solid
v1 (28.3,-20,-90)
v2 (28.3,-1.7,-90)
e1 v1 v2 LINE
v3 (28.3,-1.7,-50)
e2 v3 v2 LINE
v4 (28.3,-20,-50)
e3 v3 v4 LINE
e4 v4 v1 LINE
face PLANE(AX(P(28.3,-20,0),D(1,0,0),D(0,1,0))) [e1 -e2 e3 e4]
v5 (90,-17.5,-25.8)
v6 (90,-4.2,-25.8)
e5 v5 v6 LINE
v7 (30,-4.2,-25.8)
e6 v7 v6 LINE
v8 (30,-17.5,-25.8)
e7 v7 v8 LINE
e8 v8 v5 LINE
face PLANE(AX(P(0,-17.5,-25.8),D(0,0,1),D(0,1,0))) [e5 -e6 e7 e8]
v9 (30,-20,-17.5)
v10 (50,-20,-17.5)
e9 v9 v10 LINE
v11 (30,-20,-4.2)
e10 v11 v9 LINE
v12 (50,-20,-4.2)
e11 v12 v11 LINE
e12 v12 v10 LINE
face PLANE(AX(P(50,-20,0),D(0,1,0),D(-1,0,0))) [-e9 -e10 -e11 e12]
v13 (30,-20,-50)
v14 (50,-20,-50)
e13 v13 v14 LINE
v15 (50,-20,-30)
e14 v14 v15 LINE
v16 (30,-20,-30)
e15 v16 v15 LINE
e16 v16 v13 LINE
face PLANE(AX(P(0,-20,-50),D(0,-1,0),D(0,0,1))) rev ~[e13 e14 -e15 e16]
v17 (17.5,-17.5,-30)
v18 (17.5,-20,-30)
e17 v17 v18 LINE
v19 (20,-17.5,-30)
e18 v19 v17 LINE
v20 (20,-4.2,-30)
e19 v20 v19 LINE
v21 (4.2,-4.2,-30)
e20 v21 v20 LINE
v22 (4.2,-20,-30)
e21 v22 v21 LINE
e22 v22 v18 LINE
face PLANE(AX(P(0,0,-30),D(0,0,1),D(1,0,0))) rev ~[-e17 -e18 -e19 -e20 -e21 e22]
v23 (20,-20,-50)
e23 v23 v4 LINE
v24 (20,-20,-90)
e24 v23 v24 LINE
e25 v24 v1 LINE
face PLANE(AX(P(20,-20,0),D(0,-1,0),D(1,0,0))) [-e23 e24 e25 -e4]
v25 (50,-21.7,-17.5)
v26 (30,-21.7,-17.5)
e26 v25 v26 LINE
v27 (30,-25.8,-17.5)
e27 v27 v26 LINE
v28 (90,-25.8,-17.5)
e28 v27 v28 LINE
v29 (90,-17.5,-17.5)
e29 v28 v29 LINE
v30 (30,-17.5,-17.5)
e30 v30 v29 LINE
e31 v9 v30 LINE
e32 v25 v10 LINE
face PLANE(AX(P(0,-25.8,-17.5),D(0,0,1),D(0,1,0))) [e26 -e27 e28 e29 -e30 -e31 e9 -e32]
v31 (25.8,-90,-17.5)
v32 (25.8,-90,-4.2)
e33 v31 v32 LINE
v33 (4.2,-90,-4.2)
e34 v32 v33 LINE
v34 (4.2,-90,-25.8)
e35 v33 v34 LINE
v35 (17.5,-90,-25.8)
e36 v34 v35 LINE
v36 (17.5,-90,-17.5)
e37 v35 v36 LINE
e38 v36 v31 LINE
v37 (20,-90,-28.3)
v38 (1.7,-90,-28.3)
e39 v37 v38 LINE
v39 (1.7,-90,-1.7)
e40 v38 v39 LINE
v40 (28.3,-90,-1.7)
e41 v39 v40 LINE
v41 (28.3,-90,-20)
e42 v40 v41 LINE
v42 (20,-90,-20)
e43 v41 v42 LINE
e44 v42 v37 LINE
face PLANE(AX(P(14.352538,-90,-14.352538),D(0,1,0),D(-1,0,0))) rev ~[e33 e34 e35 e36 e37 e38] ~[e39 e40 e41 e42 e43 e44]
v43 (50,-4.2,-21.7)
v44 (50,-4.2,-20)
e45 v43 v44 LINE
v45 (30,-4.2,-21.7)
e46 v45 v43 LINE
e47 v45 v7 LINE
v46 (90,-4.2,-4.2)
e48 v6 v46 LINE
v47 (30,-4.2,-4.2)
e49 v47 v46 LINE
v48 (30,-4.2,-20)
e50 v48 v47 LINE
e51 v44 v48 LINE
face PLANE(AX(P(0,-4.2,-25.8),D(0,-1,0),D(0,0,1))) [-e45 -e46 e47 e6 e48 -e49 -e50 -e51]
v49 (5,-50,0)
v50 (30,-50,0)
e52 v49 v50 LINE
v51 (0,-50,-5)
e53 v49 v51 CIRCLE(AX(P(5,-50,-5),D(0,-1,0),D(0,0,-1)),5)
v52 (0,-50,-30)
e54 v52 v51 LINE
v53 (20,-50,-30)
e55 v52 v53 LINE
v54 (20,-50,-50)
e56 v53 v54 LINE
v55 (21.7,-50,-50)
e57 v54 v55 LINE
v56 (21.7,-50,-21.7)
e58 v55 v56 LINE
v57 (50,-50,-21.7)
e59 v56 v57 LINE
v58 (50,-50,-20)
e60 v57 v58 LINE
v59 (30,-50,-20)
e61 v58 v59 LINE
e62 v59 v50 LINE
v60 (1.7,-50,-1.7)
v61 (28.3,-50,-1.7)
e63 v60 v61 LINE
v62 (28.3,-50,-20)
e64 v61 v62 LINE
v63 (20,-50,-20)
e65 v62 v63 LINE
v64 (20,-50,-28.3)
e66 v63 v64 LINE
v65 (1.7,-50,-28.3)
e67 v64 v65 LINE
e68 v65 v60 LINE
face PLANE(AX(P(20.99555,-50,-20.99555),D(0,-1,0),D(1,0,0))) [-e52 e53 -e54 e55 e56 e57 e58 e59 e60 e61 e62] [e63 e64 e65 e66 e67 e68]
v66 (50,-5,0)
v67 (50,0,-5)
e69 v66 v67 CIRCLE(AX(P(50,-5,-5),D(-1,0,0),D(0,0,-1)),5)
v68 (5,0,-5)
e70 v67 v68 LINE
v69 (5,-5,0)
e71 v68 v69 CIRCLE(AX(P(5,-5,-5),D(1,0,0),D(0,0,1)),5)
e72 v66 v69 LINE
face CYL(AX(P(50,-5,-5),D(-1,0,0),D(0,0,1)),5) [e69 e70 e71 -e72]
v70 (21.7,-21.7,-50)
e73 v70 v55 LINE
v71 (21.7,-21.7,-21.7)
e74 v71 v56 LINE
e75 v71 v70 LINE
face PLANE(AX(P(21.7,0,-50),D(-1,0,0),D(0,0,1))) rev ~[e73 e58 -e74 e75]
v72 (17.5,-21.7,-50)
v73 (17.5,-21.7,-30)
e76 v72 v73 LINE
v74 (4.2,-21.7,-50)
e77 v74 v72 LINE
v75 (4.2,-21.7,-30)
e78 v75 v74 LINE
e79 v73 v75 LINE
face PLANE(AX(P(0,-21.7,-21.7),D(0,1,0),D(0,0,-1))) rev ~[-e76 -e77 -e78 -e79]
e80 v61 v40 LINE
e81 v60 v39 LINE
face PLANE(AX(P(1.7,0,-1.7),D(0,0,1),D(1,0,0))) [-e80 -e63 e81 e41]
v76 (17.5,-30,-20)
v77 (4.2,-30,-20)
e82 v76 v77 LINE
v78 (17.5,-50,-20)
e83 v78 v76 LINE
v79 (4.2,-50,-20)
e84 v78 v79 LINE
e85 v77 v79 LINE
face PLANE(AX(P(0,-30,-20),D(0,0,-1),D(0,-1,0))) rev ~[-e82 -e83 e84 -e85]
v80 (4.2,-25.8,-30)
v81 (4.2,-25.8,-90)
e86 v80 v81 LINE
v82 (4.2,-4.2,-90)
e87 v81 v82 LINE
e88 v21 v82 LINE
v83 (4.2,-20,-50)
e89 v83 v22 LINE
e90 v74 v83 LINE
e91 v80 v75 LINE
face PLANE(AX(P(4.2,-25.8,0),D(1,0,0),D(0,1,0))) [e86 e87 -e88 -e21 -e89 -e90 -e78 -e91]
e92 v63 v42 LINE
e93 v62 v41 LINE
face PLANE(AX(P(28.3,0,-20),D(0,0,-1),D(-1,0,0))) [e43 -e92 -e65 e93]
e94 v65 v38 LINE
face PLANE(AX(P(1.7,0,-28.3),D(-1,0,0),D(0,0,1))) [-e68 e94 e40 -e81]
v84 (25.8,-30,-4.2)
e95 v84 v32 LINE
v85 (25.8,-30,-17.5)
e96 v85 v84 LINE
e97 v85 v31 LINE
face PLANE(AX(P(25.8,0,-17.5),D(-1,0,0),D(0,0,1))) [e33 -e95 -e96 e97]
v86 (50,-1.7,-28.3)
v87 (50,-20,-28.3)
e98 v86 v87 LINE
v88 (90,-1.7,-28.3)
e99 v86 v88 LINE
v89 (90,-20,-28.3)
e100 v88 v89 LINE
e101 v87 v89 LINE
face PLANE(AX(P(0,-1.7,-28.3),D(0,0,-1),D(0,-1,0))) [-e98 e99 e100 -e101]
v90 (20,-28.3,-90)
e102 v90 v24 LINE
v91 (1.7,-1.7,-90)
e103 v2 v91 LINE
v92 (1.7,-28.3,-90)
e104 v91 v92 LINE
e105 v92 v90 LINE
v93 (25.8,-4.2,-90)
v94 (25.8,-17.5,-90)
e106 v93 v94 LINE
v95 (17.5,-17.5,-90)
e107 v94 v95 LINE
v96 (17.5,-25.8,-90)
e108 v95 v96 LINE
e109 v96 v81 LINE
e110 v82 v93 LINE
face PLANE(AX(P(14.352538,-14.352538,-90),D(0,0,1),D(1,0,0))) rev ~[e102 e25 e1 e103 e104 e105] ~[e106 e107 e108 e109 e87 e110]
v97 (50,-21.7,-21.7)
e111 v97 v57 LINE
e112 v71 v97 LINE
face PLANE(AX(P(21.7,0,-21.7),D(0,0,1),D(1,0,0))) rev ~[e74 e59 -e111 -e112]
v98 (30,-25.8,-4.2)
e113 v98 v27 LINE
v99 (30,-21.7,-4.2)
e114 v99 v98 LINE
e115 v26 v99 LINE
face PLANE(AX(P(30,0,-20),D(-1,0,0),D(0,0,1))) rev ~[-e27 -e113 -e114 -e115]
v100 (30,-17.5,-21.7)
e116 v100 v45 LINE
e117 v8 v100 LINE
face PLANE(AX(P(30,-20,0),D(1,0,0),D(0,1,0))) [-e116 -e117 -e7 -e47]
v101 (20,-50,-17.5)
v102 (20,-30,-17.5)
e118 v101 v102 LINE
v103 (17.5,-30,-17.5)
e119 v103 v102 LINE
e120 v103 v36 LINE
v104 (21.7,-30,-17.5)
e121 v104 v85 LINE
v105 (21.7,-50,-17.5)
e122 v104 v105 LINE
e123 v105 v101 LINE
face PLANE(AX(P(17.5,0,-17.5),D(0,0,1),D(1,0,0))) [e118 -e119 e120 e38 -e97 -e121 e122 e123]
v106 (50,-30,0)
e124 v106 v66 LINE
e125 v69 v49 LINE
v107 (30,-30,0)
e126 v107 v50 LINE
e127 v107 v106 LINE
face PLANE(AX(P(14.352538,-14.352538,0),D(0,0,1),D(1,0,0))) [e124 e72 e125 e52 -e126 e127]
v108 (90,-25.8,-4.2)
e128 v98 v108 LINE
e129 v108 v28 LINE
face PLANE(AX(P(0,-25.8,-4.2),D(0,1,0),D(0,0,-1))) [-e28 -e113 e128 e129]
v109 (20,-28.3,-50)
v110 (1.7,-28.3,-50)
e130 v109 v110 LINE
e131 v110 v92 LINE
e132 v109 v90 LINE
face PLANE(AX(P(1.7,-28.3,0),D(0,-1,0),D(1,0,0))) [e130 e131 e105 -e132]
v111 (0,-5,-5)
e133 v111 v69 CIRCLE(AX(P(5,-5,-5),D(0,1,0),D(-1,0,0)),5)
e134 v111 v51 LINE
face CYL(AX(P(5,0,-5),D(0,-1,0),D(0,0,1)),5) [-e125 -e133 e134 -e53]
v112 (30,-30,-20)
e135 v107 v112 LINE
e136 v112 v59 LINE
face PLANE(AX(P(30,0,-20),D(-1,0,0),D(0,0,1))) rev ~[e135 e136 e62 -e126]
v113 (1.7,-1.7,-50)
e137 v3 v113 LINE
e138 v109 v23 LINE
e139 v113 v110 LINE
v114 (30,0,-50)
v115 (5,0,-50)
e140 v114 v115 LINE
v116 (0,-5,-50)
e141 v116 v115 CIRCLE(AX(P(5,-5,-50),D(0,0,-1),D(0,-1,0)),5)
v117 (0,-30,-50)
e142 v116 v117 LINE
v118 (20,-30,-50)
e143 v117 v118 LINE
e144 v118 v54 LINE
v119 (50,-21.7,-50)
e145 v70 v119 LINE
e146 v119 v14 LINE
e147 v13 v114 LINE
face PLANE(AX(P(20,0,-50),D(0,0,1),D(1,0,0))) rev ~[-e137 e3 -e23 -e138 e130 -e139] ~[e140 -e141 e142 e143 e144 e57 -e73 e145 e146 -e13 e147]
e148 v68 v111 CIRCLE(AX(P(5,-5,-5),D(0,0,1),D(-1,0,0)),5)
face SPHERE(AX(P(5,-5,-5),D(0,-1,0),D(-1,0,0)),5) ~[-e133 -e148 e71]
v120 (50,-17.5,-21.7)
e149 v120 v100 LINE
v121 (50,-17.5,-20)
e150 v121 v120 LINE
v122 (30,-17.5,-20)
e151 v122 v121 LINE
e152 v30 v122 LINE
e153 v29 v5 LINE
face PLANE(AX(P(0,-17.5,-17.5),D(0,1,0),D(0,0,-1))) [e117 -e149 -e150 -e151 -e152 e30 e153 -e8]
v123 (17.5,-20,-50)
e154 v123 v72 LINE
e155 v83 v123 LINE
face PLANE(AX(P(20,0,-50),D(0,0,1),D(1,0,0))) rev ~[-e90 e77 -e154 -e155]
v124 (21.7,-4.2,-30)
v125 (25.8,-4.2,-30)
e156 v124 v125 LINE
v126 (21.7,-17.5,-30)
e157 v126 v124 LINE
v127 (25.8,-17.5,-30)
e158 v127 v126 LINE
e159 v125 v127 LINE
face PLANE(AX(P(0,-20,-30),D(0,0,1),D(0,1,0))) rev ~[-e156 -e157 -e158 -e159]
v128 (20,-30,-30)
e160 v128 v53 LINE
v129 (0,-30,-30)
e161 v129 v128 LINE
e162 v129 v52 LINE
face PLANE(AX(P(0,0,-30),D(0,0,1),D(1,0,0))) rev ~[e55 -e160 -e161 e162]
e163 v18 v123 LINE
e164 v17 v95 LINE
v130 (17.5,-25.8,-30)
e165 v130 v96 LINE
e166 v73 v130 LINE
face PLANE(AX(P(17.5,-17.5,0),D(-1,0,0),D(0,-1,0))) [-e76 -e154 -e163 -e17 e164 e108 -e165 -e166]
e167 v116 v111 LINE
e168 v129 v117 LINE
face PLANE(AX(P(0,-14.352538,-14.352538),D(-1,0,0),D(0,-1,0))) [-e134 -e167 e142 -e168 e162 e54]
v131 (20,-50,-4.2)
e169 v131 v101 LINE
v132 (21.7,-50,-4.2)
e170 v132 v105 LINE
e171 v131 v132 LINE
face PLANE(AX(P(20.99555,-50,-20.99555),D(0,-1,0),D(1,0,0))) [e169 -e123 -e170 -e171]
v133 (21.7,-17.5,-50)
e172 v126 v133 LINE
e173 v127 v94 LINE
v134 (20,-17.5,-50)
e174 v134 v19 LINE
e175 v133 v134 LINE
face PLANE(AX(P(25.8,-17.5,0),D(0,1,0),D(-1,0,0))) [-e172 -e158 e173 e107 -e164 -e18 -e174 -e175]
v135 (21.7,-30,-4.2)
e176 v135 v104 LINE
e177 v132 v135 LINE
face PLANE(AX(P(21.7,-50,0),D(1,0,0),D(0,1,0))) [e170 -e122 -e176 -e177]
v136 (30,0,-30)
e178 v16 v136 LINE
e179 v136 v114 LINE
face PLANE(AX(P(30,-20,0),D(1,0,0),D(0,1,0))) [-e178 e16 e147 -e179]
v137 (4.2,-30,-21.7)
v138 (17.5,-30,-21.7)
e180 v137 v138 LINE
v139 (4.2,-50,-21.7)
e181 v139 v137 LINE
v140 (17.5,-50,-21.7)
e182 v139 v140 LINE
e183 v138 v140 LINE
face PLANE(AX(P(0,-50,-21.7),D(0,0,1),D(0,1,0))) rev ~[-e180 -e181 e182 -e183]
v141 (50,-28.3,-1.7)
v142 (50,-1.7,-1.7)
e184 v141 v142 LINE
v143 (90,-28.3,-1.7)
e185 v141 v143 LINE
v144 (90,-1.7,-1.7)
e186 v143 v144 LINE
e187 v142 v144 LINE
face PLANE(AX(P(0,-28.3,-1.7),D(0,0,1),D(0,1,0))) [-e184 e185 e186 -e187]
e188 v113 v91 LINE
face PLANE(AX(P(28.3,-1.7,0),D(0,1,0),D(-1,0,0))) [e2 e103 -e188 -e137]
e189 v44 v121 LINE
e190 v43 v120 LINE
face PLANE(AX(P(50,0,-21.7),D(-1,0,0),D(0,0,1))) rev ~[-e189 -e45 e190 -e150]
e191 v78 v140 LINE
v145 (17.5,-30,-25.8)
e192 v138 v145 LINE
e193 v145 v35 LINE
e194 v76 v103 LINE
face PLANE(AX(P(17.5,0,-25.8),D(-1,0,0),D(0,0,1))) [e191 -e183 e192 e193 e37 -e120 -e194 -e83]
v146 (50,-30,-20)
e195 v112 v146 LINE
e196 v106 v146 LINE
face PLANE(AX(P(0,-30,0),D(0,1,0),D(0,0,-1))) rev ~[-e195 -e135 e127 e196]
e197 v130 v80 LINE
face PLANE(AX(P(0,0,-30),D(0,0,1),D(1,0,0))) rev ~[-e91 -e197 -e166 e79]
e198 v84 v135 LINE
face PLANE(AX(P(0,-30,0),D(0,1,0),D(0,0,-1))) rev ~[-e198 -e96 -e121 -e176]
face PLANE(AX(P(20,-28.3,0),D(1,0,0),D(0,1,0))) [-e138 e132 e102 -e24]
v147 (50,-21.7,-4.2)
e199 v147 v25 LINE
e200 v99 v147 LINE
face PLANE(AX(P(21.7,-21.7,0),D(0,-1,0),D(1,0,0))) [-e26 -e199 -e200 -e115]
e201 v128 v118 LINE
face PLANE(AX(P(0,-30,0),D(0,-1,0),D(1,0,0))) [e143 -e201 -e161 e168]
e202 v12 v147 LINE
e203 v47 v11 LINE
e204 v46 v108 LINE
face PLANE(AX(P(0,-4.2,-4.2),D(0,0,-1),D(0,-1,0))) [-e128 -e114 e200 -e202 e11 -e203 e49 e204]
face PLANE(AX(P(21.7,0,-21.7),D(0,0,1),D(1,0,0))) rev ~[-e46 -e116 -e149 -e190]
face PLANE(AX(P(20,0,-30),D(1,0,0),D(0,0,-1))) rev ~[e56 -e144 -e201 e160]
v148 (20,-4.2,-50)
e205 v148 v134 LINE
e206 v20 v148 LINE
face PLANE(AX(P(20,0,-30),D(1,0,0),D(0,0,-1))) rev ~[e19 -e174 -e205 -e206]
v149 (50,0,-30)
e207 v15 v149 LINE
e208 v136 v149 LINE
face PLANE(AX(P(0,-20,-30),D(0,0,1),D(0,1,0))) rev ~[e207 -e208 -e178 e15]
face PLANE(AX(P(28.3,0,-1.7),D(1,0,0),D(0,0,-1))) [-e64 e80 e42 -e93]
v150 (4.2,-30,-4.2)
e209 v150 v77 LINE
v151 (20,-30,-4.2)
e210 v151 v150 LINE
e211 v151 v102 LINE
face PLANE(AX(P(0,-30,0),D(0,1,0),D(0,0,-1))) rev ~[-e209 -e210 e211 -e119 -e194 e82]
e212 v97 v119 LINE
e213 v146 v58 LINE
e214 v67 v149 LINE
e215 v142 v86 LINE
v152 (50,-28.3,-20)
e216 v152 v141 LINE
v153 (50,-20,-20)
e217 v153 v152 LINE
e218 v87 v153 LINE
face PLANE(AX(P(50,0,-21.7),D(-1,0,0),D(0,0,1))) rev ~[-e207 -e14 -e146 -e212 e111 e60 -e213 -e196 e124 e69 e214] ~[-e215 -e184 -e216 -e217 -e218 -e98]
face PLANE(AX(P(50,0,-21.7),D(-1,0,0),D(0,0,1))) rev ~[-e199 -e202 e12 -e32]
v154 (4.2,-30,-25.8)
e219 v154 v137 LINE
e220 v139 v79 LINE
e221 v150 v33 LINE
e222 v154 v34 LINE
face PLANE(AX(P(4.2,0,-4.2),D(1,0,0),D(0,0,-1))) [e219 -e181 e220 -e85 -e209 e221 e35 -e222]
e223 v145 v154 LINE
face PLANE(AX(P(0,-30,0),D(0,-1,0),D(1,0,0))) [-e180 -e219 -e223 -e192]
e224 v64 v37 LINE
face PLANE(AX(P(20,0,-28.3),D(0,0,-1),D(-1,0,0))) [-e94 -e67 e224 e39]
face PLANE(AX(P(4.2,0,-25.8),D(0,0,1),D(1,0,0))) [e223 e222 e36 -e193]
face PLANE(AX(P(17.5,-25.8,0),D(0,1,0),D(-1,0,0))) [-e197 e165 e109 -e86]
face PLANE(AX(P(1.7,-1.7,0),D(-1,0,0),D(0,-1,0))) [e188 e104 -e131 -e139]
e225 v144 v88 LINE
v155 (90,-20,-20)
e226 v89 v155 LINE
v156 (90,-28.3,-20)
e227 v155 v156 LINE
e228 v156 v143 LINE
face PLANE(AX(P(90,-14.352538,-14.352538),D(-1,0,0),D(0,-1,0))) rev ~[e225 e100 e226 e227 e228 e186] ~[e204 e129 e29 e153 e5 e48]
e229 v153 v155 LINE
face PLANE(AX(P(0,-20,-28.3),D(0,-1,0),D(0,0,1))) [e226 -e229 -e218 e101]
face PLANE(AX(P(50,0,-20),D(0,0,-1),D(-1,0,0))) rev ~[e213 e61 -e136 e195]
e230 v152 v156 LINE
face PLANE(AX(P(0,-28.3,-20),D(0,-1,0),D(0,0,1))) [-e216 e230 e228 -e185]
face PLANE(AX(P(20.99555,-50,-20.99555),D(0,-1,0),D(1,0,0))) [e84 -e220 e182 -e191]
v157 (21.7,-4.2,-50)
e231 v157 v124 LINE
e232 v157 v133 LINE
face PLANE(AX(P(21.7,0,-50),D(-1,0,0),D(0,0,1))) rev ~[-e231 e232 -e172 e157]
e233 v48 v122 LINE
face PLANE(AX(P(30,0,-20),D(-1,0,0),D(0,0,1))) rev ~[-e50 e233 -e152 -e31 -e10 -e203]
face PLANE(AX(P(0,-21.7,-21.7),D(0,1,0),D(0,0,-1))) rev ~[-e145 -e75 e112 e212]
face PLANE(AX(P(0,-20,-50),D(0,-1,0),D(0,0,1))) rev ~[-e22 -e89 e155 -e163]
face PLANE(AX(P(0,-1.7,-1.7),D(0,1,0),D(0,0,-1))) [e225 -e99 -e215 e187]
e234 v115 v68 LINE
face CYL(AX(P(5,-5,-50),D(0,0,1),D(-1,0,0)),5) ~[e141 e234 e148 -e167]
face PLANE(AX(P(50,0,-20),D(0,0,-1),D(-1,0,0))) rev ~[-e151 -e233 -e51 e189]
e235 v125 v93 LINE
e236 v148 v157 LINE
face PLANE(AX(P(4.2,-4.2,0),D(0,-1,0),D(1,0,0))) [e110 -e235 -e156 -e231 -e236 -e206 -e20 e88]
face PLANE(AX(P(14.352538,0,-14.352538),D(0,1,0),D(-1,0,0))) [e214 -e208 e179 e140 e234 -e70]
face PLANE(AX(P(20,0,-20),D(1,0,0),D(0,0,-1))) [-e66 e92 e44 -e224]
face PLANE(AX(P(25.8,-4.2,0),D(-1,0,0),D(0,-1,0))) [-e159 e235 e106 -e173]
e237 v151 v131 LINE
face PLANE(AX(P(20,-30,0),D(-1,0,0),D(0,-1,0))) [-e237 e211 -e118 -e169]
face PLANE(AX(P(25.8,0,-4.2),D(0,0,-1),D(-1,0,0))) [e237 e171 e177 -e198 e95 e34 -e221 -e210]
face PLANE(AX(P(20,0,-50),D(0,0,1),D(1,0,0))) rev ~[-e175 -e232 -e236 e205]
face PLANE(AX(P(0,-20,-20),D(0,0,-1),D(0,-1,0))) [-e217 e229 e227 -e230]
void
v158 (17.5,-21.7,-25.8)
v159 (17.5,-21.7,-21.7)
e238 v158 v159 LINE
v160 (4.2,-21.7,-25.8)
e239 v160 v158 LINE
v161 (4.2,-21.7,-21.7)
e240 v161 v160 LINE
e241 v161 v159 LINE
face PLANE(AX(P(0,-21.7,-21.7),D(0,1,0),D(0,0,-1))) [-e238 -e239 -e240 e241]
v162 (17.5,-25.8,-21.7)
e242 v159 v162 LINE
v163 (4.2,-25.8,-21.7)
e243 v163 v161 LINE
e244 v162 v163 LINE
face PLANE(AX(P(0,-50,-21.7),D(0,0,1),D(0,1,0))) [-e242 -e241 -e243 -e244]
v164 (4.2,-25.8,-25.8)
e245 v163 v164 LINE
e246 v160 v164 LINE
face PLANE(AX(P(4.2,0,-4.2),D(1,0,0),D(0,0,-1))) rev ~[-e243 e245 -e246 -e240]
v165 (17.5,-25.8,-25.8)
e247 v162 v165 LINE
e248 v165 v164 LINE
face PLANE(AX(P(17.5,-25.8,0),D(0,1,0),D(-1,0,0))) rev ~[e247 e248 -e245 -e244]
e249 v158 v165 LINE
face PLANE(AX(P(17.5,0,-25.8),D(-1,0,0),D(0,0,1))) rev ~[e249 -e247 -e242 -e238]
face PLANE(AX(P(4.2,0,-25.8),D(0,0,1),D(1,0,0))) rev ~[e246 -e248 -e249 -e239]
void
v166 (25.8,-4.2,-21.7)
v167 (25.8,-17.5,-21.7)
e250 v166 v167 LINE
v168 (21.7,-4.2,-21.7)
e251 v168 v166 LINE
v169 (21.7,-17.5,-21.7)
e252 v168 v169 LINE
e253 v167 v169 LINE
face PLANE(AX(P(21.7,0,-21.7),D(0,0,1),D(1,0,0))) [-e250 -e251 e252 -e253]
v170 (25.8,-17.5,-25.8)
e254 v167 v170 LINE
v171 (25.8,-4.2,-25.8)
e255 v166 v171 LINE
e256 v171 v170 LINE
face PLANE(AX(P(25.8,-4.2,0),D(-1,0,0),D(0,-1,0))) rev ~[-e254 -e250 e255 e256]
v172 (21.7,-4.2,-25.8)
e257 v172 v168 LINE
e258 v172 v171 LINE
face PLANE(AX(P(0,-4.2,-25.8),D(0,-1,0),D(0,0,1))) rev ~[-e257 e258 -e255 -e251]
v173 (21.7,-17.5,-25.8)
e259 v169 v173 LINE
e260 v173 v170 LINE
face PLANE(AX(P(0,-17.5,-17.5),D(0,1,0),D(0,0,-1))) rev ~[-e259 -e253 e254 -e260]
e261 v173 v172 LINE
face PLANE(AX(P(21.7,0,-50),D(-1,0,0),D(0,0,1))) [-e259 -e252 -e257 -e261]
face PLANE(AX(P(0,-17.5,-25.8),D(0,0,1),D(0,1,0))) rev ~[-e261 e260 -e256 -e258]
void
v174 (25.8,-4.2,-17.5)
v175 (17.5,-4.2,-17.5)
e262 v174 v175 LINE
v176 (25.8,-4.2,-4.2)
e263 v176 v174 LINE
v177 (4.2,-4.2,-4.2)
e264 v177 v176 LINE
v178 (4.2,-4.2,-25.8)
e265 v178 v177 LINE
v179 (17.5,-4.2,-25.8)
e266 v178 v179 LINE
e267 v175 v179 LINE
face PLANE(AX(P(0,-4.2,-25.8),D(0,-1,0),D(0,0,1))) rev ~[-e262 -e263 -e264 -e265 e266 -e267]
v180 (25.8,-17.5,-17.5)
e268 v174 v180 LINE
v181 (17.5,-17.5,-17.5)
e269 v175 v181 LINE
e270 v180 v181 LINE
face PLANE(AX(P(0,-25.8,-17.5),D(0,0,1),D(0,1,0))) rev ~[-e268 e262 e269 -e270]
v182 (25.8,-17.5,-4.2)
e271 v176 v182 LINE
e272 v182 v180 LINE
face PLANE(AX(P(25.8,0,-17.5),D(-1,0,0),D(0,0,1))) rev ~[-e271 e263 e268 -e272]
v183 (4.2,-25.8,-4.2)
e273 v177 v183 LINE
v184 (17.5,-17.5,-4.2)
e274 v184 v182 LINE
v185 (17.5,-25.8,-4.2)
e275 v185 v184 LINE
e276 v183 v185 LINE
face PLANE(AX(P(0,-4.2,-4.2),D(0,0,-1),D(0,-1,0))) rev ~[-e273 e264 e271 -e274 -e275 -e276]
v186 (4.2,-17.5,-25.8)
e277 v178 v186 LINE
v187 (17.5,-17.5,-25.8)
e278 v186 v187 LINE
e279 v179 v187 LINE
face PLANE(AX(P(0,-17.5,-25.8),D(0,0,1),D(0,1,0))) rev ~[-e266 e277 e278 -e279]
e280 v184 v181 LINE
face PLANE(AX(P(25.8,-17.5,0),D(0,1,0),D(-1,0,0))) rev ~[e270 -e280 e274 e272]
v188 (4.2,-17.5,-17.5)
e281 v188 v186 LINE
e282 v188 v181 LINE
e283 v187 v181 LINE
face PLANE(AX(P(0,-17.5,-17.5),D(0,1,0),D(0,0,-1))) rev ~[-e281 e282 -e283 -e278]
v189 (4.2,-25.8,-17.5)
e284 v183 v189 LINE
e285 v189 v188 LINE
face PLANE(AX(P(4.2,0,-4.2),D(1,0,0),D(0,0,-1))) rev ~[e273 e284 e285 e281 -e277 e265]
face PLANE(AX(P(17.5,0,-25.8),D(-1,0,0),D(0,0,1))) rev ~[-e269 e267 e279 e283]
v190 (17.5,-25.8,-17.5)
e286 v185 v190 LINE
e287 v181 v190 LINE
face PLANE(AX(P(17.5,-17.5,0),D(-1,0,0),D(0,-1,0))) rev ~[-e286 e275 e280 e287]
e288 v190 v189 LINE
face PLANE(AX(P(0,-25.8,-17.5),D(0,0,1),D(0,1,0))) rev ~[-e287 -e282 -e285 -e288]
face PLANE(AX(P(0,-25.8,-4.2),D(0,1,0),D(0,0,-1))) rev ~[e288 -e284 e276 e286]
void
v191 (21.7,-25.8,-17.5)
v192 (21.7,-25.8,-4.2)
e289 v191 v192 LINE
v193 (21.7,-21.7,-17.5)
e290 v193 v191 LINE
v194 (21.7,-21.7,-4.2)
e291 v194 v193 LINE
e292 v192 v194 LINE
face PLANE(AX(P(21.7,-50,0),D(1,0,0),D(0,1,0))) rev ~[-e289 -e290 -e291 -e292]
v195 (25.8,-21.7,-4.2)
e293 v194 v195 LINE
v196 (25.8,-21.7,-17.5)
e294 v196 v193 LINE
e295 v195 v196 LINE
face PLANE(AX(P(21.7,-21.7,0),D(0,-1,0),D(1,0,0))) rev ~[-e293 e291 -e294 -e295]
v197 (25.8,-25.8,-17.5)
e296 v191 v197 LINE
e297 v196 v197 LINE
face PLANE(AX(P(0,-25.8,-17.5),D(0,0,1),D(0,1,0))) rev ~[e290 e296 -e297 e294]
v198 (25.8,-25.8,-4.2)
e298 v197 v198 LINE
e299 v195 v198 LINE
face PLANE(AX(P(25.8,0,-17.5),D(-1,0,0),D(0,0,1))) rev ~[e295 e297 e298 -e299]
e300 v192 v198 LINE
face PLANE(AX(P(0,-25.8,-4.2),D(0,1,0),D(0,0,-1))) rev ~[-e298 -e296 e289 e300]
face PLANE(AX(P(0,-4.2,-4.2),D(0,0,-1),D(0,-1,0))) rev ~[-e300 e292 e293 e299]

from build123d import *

# Parameters (mm, degrees)
F1_DEPTH  = 50
F3_DEPTH  = 50
F5_DEPTH  = 50
F7_DEPTH  = 90
F9_DEPTH  = 90
F11_DEPTH = 90
F12_R     = 5


with BuildPart() as f1:
    # F0 (on Front) → F1 (new body)
    with BuildSketch(Plane.XZ):
        Polygon((30, 0), (0, 0), (0, -30), (20, -30), (20, -50), (21.7, -50), (21.7, -21.7), (50, -21.7), (50, -20), (30, -20), align=None)
        Polygon((28.3, -20), (20, -20), (20, -28.3), (1.7, -28.3), (1.7, -1.7), (28.3, -1.7), align=None, mode=Mode.SUBTRACT)
    extrude(amount=F1_DEPTH)

    # F2 (on Right) → F3 (join)
    with BuildSketch(Plane.YZ):
        Polygon((0, -30), (0, 0), (-30, 0), (-30, -20), (-50, -20), (-50, -21.7), (-21.7, -21.7), (-21.7, -50), (-20, -50), (-20, -30), align=None)
        Polygon((-28.3, -1.7), (-1.7, -1.7), (-1.7, -28.3), (-20, -28.3), (-20, -20), (-28.3, -20), align=None, mode=Mode.SUBTRACT)
    extrude(amount=F3_DEPTH)

    # F4 (on face) → F5 (join)
    with BuildSketch(Plane.XY):
        Polygon((30, 0), (0, 0), (0, -30), (20, -30), (20, -50), (21.7, -50), (21.7, -21.7), (50, -21.7), (50, -20), (30, -20), align=None)
        Polygon((28.3, -20), (20, -20), (20, -28.3), (1.7, -28.3), (1.7, -1.7), (28.3, -1.7), align=None, mode=Mode.SUBTRACT)
    extrude(amount=-F5_DEPTH)

    # F6 (on face) → F7 (join)
    with BuildSketch(Plane(origin=(0, 0, 0), x_dir=(0, -1, 0), z_dir=(-1, 0, 0))):
        Polygon((20, -1.7), (1.7, -1.7), (1.7, -20), (1.7, -21.7), (1.7, -28.3), (20, -28.3), (20, -21.7), (20, -20), (21.7, -20), (28.3, -20), (28.3, -1.7), (21.7, -1.7), align=None)
        Polygon((4.2, -20), (4.2, -4.2), (20, -4.2), (21.7, -4.2), (25.8, -4.2), (25.8, -17.5), (21.7, -17.5), (17.5, -17.5), (17.5, -21.7), (17.5, -25.8), (4.2, -25.8), (4.2, -21.7), align=None, mode=Mode.SUBTRACT)
    extrude(amount=-F7_DEPTH)

    # F8 (on face) → F9 (join)
    with BuildSketch(Plane(origin=(0, 0, 0), x_dir=(-1, 0, 0), z_dir=(0, 1, 0))):
        Polygon((-1.7, -20), (-1.7, -1.7), (-20, -1.7), (-21.7, -1.7), (-28.3, -1.7), (-28.3, -20), (-21.7, -20), (-20, -20), (-20, -21.7), (-20, -28.3), (-1.7, -28.3), (-1.7, -21.7), align=None)
        Polygon((-20, -4.2), (-4.2, -4.2), (-4.2, -20), (-4.2, -21.7), (-4.2, -25.8), (-17.5, -25.8), (-17.5, -21.7), (-17.5, -17.5), (-21.7, -17.5), (-25.8, -17.5), (-25.8, -4.2), (-21.7, -4.2), align=None, mode=Mode.SUBTRACT)
    extrude(amount=-F9_DEPTH)

    # F10 (on face) → F11 (join)
    with BuildSketch(Plane.XY):
        Polygon((20, -1.7), (1.7, -1.7), (1.7, -20), (1.7, -21.7), (1.7, -28.3), (20, -28.3), (20, -21.7), (20, -20), (21.7, -20), (28.3, -20), (28.3, -1.7), (21.7, -1.7), align=None)
        Polygon((4.2, -25.8), (4.2, -21.7), (4.2, -20), (4.2, -4.2), (20, -4.2), (21.7, -4.2), (25.8, -4.2), (25.8, -17.5), (21.7, -17.5), (17.5, -17.5), (17.5, -21.7), (17.5, -25.8), align=None, mode=Mode.SUBTRACT)
    extrude(amount=-F11_DEPTH)

    # F12
    f12_edges = [f1.edges().sort_by_distance(p)[0] for p in [
        (0, -25, 0),
        (0, 0, -25),
        (25, 0, 0),
    ]]
    fillet(f12_edges, radius=F12_R)


solid = f1.part
